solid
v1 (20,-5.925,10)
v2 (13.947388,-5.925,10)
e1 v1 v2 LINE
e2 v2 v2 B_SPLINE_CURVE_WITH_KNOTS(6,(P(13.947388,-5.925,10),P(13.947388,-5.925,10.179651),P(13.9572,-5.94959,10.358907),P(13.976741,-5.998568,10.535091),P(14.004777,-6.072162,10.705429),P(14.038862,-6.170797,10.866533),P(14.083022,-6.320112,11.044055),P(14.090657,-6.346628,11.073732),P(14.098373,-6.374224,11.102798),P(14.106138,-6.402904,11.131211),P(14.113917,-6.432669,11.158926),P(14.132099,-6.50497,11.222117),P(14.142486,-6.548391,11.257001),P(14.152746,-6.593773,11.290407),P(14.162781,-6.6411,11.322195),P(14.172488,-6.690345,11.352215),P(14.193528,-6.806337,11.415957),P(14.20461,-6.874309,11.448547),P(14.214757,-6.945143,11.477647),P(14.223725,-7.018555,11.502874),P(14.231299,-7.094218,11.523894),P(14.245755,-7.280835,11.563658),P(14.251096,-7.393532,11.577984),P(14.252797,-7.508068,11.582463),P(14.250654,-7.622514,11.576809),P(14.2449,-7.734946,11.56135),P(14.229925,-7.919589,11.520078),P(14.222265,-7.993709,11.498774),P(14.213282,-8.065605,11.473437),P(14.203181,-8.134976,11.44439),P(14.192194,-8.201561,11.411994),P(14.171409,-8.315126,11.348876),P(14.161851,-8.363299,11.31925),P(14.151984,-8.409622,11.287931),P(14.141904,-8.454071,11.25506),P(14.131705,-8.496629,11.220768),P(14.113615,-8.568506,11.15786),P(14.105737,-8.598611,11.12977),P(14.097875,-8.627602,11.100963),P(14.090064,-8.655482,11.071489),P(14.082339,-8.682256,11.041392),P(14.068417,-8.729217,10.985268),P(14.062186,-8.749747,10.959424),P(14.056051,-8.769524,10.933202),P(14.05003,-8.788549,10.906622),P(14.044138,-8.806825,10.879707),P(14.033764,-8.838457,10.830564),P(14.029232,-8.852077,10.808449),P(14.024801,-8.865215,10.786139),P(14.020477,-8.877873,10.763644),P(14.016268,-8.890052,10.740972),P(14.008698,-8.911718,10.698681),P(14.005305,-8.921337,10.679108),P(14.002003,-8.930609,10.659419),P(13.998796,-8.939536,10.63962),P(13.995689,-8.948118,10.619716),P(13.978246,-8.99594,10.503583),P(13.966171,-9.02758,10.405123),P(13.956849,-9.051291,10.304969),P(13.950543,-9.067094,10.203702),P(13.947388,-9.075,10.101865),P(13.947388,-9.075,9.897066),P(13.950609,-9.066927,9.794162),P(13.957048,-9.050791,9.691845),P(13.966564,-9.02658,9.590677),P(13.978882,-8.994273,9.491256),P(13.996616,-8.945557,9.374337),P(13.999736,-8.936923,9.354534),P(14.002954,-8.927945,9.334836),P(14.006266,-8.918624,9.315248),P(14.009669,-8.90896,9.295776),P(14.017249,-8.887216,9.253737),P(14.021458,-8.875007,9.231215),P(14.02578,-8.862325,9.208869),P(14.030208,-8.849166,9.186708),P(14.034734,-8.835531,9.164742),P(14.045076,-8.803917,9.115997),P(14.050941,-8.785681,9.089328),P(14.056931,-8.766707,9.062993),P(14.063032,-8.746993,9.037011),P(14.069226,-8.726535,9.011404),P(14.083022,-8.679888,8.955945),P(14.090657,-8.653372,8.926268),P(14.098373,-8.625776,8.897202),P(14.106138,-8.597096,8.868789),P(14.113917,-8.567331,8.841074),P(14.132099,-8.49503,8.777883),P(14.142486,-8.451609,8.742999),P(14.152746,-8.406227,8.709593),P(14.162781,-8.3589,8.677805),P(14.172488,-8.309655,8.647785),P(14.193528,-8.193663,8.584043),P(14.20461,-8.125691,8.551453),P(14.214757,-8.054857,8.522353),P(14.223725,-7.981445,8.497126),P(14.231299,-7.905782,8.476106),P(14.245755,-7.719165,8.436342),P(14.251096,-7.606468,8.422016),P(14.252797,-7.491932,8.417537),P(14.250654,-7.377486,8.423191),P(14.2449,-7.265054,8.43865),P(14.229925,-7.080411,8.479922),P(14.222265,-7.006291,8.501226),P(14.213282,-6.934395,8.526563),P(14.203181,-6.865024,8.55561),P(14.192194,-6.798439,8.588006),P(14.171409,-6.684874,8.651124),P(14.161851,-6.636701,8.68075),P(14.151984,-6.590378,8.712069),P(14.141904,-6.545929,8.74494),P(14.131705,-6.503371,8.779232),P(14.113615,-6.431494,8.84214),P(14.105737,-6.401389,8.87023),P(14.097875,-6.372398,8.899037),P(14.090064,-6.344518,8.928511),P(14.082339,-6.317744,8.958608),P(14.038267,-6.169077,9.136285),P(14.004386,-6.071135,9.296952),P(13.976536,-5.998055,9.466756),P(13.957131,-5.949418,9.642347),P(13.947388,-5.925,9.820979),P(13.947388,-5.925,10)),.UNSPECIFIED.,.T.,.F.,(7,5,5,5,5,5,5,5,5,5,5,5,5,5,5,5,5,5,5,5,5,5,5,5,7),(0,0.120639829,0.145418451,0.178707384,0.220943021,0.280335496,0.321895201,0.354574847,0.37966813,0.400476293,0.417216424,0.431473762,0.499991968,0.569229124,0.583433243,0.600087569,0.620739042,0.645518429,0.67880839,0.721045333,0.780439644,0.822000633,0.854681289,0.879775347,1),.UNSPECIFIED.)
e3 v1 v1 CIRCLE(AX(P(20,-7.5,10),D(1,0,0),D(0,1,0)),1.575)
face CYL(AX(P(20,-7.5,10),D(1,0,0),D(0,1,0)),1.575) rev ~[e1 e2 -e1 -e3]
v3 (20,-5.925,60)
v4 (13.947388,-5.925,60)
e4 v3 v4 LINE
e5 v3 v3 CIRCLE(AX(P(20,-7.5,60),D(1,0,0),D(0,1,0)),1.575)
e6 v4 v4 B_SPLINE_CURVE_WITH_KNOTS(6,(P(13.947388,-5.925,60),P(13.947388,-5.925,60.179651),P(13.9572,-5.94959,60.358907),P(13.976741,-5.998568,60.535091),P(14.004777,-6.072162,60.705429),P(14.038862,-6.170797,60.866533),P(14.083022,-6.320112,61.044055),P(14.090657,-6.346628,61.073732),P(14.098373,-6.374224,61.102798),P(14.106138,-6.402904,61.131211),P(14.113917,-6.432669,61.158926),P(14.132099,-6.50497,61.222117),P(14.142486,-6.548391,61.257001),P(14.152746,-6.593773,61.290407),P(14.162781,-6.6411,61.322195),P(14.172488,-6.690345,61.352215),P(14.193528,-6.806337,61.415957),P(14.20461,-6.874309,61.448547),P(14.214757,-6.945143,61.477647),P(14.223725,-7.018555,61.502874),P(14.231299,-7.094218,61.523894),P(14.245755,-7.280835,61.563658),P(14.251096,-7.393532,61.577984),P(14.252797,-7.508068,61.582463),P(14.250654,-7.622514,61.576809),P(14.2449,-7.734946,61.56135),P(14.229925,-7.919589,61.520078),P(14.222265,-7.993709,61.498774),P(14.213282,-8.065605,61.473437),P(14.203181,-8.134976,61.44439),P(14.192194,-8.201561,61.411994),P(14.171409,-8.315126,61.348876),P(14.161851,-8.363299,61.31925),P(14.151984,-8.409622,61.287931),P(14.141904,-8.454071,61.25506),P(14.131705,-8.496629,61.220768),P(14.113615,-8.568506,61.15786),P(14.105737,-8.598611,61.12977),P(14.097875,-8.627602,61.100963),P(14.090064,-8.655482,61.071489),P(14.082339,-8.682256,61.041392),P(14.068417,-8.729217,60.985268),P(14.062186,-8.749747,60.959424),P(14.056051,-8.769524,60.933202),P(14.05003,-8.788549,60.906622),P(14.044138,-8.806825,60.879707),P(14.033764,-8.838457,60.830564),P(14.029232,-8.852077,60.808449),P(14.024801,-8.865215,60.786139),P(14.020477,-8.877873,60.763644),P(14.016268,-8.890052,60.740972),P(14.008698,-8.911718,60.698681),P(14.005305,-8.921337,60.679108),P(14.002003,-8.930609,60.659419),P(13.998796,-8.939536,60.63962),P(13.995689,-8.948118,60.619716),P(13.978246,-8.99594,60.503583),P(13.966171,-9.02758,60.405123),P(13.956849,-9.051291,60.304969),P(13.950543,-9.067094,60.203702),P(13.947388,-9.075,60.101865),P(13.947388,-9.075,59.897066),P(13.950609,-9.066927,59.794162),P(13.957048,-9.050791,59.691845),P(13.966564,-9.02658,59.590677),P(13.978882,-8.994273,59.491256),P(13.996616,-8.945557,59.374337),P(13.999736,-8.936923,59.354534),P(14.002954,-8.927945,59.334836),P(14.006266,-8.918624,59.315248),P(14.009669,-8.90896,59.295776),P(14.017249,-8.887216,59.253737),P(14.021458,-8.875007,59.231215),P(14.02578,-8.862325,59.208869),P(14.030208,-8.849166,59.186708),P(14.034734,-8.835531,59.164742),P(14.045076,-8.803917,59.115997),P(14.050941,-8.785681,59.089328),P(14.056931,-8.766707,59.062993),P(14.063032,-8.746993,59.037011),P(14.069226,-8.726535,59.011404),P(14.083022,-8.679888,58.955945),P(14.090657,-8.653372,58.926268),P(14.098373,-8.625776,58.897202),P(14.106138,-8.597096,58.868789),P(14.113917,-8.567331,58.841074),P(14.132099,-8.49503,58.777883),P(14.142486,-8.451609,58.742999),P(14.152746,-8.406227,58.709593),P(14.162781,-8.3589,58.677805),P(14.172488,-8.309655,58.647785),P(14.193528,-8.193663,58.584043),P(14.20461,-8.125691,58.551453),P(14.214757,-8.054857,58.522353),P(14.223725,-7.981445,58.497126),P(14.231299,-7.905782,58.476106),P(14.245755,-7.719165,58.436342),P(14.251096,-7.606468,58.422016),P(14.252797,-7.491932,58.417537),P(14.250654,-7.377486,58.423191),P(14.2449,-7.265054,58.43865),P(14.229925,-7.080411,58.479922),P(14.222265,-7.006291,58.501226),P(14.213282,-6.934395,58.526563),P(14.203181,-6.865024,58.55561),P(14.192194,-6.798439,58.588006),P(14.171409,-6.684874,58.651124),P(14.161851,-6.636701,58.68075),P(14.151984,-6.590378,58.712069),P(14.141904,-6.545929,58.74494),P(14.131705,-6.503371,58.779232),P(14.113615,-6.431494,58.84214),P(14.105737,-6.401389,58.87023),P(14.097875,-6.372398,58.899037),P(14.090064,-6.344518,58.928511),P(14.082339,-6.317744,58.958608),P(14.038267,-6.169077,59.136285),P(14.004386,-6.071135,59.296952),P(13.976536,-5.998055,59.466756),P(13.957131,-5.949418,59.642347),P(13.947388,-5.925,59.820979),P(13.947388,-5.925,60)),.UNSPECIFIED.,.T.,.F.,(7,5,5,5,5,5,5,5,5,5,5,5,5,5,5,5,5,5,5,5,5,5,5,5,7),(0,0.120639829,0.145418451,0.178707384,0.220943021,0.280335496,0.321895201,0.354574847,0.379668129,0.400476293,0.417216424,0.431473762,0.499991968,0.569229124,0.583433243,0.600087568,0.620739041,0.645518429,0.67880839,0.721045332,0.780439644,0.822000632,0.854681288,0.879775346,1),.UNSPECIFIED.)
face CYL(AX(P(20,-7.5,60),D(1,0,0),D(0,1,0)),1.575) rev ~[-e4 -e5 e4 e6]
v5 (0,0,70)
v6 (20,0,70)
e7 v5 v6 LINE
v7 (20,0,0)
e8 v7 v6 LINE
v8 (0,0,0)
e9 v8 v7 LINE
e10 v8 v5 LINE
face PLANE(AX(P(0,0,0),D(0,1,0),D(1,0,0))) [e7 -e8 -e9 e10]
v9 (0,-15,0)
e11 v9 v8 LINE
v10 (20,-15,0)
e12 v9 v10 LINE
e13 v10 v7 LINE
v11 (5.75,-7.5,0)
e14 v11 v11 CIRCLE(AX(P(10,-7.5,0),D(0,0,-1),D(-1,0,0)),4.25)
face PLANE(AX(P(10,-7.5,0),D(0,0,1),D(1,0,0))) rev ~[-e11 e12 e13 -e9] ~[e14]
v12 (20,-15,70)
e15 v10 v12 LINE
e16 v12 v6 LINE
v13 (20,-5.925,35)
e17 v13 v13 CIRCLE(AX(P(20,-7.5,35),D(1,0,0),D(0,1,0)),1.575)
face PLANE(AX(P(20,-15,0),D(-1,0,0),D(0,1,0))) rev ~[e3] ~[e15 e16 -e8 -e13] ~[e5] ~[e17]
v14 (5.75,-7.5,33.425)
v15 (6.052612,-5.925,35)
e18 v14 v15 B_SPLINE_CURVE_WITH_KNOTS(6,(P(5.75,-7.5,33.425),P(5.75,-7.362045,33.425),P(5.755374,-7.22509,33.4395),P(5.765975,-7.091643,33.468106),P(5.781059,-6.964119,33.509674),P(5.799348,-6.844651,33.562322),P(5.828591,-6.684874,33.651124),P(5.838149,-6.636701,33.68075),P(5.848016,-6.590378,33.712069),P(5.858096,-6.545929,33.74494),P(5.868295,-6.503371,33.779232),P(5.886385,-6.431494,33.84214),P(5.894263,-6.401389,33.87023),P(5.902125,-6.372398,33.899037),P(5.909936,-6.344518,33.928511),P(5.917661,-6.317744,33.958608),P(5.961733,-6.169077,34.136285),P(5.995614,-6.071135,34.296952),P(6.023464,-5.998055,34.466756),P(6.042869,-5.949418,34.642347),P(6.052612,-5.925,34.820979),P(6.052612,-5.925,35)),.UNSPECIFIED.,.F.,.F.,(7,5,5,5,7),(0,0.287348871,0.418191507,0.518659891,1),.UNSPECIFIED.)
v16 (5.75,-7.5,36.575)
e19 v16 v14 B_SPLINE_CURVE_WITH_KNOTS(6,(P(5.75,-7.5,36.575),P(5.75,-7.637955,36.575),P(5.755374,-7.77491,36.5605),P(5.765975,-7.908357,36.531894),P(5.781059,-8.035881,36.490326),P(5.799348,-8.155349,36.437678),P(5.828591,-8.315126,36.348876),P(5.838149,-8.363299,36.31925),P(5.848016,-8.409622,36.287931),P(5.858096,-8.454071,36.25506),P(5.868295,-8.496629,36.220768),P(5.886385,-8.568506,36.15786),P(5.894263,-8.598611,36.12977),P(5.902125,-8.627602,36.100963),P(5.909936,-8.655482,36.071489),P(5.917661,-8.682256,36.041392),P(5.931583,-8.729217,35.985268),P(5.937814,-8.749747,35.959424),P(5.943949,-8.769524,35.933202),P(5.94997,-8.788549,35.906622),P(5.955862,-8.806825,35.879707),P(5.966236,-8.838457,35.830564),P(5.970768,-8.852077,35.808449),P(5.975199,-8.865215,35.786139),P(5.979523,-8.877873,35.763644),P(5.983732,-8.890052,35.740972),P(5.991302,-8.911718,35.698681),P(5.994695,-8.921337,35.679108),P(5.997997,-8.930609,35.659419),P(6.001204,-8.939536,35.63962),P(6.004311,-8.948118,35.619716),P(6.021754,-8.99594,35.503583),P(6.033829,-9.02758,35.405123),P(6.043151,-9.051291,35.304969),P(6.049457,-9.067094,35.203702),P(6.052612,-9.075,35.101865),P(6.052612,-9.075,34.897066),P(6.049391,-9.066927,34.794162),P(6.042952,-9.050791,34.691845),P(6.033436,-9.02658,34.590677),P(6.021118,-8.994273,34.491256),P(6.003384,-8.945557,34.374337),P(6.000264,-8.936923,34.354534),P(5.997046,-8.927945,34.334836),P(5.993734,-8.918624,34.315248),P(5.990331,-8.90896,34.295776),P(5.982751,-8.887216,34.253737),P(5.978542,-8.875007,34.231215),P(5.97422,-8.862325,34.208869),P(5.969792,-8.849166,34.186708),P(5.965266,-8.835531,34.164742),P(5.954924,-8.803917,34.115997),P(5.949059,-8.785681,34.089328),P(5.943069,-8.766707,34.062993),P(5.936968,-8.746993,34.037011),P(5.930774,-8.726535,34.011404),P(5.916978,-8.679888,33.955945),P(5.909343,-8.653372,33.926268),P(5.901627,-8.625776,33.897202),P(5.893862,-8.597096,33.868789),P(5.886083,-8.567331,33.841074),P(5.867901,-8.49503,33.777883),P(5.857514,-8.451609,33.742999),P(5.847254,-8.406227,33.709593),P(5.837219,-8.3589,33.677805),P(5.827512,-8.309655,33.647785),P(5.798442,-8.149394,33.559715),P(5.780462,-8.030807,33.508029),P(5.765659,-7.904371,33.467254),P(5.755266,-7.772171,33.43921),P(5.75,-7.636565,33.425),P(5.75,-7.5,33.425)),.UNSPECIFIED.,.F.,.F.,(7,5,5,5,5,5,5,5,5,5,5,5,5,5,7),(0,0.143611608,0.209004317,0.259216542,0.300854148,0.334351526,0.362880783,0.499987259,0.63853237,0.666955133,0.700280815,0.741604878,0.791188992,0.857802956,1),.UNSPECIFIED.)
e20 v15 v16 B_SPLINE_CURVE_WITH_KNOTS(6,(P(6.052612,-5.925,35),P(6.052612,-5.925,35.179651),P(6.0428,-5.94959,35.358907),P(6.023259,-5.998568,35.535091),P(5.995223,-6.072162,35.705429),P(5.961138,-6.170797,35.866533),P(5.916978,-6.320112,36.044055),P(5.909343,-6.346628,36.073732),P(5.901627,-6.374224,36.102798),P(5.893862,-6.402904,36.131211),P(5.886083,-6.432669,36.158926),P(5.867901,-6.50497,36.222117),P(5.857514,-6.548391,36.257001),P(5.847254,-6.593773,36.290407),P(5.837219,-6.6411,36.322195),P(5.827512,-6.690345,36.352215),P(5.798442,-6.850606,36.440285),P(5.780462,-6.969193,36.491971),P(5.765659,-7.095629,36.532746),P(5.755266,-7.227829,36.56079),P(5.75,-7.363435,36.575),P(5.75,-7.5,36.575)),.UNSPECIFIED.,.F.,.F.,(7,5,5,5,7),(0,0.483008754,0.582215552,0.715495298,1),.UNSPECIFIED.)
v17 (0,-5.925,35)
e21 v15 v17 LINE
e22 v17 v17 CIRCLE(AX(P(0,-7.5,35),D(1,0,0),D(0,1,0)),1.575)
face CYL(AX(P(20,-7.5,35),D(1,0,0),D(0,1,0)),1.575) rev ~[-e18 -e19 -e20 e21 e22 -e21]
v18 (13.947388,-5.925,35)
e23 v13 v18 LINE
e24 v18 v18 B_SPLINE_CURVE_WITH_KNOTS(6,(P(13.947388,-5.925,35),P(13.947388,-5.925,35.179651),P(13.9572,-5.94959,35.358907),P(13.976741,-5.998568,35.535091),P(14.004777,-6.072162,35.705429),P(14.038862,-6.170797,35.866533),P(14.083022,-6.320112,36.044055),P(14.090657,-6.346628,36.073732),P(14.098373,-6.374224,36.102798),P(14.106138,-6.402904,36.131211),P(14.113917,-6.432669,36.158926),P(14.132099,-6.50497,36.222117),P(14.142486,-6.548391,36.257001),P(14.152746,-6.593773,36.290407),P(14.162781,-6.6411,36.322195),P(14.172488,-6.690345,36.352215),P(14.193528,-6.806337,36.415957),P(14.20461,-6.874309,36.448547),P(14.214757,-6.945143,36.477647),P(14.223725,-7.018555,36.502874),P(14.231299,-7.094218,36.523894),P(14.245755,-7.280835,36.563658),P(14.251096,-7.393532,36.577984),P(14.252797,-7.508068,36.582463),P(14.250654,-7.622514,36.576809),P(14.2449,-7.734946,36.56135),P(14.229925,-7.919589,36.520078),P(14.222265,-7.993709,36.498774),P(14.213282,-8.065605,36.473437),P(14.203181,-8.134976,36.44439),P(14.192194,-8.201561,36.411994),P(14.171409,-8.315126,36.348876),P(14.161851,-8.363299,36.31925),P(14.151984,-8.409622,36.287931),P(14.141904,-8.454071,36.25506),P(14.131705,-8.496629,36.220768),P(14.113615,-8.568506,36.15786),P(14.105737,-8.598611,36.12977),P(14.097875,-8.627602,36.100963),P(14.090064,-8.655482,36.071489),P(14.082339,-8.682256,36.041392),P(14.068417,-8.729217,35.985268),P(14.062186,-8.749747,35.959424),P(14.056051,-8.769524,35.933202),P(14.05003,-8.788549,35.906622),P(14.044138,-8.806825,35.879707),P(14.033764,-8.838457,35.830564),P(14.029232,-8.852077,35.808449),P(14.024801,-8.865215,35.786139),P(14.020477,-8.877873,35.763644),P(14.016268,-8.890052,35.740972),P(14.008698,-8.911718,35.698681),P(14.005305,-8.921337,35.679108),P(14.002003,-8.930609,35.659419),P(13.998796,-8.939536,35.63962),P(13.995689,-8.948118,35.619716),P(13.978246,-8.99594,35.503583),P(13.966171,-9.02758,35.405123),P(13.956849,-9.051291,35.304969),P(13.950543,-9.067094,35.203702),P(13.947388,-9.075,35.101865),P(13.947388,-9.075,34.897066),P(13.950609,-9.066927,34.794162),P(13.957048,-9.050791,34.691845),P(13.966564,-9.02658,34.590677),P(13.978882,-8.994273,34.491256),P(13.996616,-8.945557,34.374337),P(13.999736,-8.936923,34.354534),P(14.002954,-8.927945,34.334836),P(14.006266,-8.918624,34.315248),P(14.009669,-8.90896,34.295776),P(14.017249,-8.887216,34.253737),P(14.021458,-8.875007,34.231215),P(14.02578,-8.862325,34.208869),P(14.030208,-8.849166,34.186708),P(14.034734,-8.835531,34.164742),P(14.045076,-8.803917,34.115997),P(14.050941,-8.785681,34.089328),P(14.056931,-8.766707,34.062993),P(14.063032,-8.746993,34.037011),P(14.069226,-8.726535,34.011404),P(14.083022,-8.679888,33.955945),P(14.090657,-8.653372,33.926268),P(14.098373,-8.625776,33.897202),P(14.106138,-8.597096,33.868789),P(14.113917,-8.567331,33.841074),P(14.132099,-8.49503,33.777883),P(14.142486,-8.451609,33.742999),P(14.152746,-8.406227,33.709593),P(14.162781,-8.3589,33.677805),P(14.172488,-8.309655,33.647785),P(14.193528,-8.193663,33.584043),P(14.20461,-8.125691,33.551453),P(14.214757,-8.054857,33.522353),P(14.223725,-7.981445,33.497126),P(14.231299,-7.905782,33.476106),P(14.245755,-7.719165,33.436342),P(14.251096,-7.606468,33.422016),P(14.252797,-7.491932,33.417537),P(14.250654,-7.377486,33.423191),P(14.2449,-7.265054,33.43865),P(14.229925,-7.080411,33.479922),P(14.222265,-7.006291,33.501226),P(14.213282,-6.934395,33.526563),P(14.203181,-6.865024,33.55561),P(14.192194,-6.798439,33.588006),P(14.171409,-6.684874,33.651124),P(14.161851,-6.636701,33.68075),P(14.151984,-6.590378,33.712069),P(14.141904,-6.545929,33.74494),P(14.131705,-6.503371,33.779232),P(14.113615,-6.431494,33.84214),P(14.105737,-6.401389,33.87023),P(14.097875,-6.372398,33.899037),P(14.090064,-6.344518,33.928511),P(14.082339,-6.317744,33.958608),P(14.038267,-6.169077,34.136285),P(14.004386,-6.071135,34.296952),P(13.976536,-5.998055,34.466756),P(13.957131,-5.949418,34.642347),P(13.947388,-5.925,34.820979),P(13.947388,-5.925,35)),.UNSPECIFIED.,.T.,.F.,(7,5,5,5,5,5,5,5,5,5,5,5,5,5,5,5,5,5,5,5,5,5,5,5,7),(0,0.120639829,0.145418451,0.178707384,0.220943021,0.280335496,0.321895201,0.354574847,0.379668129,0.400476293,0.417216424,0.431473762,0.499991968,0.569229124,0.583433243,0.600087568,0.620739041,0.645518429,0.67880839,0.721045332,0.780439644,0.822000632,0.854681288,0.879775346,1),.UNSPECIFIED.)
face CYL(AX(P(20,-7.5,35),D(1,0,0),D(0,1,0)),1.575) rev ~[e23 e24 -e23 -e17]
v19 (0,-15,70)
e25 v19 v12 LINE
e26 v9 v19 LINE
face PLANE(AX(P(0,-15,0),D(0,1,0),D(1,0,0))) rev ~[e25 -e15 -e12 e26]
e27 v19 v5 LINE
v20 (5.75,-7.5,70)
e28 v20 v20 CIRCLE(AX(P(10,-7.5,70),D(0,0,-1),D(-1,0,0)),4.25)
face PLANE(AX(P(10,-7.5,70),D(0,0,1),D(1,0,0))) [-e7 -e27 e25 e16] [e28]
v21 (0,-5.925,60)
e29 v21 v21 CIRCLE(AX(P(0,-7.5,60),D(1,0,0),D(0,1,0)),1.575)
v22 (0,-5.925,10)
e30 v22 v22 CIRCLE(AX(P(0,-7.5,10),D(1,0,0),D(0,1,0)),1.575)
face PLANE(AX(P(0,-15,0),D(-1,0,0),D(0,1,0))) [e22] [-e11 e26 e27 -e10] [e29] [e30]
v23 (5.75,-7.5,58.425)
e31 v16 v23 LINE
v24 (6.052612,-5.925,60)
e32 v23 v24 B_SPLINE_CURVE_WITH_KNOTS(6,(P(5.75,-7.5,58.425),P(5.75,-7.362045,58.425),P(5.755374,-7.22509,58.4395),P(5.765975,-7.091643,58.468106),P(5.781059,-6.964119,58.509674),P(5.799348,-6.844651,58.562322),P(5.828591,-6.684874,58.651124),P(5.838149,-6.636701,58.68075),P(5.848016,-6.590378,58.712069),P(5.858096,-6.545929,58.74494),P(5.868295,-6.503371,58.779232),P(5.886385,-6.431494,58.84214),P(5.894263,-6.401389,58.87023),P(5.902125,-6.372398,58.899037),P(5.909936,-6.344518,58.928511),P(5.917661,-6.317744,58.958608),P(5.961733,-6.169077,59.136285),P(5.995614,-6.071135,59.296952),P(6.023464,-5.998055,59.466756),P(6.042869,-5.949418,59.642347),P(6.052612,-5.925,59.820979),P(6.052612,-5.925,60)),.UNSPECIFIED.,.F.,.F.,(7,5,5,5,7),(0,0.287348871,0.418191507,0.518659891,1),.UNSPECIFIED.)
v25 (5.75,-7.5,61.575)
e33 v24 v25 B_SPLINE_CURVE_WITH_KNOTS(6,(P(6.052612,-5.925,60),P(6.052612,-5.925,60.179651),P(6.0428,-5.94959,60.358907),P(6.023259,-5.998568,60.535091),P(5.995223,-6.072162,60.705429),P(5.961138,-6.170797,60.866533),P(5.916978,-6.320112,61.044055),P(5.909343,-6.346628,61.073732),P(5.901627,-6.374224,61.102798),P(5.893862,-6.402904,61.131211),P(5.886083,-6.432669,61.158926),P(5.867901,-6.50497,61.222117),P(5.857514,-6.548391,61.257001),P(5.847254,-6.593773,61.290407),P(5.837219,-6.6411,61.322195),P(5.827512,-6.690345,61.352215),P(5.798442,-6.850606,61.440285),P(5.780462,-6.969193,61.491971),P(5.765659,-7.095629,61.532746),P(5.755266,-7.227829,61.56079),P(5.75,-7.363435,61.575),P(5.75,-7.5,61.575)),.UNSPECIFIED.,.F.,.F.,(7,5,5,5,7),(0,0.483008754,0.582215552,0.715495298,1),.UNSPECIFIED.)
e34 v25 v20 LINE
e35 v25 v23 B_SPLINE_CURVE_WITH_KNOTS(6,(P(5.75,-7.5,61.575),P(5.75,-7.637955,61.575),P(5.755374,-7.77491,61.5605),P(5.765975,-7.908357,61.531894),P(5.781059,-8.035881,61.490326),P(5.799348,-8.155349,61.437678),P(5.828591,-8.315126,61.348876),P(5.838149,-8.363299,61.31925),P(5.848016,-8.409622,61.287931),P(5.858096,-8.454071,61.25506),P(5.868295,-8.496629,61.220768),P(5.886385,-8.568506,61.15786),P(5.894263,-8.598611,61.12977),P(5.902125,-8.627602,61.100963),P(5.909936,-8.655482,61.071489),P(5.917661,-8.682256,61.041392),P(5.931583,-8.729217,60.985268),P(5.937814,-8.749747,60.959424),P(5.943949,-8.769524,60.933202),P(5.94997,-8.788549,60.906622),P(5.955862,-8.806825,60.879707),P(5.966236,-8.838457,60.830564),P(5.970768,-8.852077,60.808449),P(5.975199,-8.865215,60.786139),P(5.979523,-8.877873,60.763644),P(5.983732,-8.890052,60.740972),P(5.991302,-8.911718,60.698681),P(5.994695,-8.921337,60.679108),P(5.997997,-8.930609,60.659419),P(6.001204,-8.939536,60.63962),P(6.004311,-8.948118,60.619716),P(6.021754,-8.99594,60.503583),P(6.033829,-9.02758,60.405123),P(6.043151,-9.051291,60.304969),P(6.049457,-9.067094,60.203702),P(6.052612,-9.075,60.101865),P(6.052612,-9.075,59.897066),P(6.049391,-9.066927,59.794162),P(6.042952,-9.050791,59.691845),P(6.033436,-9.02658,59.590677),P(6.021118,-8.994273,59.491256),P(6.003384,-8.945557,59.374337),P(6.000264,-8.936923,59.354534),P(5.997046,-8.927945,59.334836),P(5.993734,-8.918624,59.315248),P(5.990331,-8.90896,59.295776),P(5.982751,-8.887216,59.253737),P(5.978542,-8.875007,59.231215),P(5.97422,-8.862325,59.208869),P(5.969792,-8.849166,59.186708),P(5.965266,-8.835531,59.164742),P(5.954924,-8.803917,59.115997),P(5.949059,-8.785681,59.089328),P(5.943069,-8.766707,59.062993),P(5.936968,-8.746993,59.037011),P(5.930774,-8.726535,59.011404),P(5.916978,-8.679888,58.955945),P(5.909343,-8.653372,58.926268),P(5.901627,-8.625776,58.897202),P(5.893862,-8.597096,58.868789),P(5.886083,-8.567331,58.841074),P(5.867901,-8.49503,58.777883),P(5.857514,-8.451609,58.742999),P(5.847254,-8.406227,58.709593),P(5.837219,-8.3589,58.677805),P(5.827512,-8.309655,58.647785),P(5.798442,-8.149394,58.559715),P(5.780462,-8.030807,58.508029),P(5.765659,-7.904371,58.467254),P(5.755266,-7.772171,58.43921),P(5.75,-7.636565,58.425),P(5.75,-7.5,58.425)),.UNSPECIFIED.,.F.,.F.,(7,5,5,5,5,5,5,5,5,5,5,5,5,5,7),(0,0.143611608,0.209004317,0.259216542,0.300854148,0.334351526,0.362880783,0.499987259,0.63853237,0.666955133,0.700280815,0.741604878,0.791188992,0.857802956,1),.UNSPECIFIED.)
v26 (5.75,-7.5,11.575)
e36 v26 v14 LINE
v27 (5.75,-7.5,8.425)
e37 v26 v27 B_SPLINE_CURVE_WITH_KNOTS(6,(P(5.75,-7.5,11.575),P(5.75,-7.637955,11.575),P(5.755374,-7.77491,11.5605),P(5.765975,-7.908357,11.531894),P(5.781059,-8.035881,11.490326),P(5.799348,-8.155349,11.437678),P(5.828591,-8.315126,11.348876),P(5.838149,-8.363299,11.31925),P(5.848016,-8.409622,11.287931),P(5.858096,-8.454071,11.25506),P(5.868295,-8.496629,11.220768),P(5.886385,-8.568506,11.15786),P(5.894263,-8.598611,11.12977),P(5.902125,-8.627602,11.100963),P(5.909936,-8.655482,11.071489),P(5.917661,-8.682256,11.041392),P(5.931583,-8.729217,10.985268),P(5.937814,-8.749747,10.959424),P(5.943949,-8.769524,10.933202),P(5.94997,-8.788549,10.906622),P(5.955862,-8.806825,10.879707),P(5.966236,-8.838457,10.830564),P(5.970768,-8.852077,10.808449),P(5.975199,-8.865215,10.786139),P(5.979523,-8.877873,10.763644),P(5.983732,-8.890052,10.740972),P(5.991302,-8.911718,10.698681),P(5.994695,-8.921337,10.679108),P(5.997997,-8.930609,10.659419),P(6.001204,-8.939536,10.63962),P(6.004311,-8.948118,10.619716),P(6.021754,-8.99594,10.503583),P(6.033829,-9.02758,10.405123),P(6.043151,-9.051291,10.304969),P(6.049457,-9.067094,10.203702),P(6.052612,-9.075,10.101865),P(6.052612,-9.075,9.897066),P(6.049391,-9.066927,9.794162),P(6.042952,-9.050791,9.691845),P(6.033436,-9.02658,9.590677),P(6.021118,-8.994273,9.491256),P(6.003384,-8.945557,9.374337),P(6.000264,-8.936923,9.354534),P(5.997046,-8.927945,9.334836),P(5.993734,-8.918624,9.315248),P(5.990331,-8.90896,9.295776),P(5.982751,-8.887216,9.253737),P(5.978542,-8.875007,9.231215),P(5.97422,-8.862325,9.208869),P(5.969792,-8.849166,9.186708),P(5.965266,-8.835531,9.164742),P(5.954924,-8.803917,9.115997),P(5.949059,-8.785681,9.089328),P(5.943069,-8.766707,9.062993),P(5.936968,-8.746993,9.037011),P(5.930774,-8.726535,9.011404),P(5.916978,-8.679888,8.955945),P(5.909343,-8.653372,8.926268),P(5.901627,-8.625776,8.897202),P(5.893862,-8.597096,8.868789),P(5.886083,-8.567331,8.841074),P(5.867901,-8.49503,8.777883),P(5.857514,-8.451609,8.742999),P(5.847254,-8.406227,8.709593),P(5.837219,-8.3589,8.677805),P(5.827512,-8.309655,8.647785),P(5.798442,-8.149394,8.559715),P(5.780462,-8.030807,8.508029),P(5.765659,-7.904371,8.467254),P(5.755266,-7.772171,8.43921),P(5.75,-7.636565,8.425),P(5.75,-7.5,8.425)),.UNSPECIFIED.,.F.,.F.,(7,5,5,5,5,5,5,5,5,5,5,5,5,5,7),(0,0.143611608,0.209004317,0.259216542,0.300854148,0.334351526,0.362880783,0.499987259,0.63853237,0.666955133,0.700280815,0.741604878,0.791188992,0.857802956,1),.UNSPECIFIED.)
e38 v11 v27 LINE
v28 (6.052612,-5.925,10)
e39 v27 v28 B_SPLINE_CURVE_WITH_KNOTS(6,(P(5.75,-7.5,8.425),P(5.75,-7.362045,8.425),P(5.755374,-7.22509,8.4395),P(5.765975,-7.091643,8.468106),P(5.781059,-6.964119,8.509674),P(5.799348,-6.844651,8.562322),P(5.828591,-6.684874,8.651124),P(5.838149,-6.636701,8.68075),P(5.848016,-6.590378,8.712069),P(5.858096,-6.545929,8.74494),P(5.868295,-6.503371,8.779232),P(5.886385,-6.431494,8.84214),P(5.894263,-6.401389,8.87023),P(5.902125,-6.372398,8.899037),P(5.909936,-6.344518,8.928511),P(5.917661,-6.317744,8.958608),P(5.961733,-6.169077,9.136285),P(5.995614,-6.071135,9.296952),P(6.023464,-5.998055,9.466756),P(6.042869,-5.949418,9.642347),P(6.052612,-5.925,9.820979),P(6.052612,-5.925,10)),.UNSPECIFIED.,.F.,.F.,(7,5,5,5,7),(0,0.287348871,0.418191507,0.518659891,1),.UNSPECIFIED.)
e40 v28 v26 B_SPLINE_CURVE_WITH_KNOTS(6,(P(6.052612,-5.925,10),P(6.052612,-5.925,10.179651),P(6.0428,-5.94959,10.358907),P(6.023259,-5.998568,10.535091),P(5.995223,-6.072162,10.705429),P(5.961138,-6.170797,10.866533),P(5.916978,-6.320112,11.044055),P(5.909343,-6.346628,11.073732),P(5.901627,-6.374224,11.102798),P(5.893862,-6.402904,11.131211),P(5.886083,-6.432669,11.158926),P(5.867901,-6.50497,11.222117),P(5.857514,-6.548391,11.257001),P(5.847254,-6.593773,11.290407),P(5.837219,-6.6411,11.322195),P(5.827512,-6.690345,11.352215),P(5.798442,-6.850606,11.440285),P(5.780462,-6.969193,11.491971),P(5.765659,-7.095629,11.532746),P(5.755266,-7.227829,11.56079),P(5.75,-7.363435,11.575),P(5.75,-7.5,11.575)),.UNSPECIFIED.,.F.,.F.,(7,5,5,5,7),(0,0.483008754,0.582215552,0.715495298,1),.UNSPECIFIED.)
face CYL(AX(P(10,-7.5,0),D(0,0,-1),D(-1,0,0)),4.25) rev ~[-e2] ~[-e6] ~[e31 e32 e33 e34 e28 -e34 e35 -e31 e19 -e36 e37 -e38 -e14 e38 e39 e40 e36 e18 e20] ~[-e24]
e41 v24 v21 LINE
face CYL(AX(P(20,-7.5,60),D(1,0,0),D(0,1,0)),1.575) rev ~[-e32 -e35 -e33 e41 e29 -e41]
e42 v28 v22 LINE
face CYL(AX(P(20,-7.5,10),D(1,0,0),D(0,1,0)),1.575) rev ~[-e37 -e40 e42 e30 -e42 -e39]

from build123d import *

# Parameters (mm, degrees)
SKETCH_1_W          = 20
SKETCH_1_H          = 15
EXTRUDE_1_DEPTH     = 70
SKETCH_2_R          = 4.25
CUT_EXTRUDE_1_DEPTH = 75.330343737
SKETCH_3_R          = 1.575
CUT_EXTRUDE_2_DEPTH = 75.330343737


with BuildPart() as part:
    # 草图1 → 凸台-拉伸1 (new body)
    with BuildSketch(Plane.XY):
        with Locations((10, -7.5)):
            Rectangle(SKETCH_1_W, SKETCH_1_H)
    extrude(amount=EXTRUDE_1_DEPTH)

    # 草图2 → 切除-拉伸1 (cut, through all)
    with BuildSketch(Plane(origin=(0, 0, 0), x_dir=(-1, 0, 0), z_dir=(0, 0, -1))):
        with Locations((-10, -7.5)):
            Circle(SKETCH_2_R)
    extrude(amount=-CUT_EXTRUDE_1_DEPTH, mode=Mode.SUBTRACT)

    # 草图3 → 切除-拉伸2 (cut, through all)
    with BuildSketch(Plane(origin=(20, 0, 0), x_dir=(0, 0, -1), z_dir=(1, 0, 0))):
        with Locations(Location((-60, -7.5, 0), (0, 0, 90))):
            Circle(SKETCH_3_R)
        with Locations(Location((-35, -7.5, 0), (0, 0, 90))):
            Circle(SKETCH_3_R)
        with Locations(Location((-10, -7.5, 0), (0, 0, 90))):
            Circle(SKETCH_3_R)
    extrude(amount=-CUT_EXTRUDE_2_DEPTH, mode=Mode.SUBTRACT)


solid = part.part
